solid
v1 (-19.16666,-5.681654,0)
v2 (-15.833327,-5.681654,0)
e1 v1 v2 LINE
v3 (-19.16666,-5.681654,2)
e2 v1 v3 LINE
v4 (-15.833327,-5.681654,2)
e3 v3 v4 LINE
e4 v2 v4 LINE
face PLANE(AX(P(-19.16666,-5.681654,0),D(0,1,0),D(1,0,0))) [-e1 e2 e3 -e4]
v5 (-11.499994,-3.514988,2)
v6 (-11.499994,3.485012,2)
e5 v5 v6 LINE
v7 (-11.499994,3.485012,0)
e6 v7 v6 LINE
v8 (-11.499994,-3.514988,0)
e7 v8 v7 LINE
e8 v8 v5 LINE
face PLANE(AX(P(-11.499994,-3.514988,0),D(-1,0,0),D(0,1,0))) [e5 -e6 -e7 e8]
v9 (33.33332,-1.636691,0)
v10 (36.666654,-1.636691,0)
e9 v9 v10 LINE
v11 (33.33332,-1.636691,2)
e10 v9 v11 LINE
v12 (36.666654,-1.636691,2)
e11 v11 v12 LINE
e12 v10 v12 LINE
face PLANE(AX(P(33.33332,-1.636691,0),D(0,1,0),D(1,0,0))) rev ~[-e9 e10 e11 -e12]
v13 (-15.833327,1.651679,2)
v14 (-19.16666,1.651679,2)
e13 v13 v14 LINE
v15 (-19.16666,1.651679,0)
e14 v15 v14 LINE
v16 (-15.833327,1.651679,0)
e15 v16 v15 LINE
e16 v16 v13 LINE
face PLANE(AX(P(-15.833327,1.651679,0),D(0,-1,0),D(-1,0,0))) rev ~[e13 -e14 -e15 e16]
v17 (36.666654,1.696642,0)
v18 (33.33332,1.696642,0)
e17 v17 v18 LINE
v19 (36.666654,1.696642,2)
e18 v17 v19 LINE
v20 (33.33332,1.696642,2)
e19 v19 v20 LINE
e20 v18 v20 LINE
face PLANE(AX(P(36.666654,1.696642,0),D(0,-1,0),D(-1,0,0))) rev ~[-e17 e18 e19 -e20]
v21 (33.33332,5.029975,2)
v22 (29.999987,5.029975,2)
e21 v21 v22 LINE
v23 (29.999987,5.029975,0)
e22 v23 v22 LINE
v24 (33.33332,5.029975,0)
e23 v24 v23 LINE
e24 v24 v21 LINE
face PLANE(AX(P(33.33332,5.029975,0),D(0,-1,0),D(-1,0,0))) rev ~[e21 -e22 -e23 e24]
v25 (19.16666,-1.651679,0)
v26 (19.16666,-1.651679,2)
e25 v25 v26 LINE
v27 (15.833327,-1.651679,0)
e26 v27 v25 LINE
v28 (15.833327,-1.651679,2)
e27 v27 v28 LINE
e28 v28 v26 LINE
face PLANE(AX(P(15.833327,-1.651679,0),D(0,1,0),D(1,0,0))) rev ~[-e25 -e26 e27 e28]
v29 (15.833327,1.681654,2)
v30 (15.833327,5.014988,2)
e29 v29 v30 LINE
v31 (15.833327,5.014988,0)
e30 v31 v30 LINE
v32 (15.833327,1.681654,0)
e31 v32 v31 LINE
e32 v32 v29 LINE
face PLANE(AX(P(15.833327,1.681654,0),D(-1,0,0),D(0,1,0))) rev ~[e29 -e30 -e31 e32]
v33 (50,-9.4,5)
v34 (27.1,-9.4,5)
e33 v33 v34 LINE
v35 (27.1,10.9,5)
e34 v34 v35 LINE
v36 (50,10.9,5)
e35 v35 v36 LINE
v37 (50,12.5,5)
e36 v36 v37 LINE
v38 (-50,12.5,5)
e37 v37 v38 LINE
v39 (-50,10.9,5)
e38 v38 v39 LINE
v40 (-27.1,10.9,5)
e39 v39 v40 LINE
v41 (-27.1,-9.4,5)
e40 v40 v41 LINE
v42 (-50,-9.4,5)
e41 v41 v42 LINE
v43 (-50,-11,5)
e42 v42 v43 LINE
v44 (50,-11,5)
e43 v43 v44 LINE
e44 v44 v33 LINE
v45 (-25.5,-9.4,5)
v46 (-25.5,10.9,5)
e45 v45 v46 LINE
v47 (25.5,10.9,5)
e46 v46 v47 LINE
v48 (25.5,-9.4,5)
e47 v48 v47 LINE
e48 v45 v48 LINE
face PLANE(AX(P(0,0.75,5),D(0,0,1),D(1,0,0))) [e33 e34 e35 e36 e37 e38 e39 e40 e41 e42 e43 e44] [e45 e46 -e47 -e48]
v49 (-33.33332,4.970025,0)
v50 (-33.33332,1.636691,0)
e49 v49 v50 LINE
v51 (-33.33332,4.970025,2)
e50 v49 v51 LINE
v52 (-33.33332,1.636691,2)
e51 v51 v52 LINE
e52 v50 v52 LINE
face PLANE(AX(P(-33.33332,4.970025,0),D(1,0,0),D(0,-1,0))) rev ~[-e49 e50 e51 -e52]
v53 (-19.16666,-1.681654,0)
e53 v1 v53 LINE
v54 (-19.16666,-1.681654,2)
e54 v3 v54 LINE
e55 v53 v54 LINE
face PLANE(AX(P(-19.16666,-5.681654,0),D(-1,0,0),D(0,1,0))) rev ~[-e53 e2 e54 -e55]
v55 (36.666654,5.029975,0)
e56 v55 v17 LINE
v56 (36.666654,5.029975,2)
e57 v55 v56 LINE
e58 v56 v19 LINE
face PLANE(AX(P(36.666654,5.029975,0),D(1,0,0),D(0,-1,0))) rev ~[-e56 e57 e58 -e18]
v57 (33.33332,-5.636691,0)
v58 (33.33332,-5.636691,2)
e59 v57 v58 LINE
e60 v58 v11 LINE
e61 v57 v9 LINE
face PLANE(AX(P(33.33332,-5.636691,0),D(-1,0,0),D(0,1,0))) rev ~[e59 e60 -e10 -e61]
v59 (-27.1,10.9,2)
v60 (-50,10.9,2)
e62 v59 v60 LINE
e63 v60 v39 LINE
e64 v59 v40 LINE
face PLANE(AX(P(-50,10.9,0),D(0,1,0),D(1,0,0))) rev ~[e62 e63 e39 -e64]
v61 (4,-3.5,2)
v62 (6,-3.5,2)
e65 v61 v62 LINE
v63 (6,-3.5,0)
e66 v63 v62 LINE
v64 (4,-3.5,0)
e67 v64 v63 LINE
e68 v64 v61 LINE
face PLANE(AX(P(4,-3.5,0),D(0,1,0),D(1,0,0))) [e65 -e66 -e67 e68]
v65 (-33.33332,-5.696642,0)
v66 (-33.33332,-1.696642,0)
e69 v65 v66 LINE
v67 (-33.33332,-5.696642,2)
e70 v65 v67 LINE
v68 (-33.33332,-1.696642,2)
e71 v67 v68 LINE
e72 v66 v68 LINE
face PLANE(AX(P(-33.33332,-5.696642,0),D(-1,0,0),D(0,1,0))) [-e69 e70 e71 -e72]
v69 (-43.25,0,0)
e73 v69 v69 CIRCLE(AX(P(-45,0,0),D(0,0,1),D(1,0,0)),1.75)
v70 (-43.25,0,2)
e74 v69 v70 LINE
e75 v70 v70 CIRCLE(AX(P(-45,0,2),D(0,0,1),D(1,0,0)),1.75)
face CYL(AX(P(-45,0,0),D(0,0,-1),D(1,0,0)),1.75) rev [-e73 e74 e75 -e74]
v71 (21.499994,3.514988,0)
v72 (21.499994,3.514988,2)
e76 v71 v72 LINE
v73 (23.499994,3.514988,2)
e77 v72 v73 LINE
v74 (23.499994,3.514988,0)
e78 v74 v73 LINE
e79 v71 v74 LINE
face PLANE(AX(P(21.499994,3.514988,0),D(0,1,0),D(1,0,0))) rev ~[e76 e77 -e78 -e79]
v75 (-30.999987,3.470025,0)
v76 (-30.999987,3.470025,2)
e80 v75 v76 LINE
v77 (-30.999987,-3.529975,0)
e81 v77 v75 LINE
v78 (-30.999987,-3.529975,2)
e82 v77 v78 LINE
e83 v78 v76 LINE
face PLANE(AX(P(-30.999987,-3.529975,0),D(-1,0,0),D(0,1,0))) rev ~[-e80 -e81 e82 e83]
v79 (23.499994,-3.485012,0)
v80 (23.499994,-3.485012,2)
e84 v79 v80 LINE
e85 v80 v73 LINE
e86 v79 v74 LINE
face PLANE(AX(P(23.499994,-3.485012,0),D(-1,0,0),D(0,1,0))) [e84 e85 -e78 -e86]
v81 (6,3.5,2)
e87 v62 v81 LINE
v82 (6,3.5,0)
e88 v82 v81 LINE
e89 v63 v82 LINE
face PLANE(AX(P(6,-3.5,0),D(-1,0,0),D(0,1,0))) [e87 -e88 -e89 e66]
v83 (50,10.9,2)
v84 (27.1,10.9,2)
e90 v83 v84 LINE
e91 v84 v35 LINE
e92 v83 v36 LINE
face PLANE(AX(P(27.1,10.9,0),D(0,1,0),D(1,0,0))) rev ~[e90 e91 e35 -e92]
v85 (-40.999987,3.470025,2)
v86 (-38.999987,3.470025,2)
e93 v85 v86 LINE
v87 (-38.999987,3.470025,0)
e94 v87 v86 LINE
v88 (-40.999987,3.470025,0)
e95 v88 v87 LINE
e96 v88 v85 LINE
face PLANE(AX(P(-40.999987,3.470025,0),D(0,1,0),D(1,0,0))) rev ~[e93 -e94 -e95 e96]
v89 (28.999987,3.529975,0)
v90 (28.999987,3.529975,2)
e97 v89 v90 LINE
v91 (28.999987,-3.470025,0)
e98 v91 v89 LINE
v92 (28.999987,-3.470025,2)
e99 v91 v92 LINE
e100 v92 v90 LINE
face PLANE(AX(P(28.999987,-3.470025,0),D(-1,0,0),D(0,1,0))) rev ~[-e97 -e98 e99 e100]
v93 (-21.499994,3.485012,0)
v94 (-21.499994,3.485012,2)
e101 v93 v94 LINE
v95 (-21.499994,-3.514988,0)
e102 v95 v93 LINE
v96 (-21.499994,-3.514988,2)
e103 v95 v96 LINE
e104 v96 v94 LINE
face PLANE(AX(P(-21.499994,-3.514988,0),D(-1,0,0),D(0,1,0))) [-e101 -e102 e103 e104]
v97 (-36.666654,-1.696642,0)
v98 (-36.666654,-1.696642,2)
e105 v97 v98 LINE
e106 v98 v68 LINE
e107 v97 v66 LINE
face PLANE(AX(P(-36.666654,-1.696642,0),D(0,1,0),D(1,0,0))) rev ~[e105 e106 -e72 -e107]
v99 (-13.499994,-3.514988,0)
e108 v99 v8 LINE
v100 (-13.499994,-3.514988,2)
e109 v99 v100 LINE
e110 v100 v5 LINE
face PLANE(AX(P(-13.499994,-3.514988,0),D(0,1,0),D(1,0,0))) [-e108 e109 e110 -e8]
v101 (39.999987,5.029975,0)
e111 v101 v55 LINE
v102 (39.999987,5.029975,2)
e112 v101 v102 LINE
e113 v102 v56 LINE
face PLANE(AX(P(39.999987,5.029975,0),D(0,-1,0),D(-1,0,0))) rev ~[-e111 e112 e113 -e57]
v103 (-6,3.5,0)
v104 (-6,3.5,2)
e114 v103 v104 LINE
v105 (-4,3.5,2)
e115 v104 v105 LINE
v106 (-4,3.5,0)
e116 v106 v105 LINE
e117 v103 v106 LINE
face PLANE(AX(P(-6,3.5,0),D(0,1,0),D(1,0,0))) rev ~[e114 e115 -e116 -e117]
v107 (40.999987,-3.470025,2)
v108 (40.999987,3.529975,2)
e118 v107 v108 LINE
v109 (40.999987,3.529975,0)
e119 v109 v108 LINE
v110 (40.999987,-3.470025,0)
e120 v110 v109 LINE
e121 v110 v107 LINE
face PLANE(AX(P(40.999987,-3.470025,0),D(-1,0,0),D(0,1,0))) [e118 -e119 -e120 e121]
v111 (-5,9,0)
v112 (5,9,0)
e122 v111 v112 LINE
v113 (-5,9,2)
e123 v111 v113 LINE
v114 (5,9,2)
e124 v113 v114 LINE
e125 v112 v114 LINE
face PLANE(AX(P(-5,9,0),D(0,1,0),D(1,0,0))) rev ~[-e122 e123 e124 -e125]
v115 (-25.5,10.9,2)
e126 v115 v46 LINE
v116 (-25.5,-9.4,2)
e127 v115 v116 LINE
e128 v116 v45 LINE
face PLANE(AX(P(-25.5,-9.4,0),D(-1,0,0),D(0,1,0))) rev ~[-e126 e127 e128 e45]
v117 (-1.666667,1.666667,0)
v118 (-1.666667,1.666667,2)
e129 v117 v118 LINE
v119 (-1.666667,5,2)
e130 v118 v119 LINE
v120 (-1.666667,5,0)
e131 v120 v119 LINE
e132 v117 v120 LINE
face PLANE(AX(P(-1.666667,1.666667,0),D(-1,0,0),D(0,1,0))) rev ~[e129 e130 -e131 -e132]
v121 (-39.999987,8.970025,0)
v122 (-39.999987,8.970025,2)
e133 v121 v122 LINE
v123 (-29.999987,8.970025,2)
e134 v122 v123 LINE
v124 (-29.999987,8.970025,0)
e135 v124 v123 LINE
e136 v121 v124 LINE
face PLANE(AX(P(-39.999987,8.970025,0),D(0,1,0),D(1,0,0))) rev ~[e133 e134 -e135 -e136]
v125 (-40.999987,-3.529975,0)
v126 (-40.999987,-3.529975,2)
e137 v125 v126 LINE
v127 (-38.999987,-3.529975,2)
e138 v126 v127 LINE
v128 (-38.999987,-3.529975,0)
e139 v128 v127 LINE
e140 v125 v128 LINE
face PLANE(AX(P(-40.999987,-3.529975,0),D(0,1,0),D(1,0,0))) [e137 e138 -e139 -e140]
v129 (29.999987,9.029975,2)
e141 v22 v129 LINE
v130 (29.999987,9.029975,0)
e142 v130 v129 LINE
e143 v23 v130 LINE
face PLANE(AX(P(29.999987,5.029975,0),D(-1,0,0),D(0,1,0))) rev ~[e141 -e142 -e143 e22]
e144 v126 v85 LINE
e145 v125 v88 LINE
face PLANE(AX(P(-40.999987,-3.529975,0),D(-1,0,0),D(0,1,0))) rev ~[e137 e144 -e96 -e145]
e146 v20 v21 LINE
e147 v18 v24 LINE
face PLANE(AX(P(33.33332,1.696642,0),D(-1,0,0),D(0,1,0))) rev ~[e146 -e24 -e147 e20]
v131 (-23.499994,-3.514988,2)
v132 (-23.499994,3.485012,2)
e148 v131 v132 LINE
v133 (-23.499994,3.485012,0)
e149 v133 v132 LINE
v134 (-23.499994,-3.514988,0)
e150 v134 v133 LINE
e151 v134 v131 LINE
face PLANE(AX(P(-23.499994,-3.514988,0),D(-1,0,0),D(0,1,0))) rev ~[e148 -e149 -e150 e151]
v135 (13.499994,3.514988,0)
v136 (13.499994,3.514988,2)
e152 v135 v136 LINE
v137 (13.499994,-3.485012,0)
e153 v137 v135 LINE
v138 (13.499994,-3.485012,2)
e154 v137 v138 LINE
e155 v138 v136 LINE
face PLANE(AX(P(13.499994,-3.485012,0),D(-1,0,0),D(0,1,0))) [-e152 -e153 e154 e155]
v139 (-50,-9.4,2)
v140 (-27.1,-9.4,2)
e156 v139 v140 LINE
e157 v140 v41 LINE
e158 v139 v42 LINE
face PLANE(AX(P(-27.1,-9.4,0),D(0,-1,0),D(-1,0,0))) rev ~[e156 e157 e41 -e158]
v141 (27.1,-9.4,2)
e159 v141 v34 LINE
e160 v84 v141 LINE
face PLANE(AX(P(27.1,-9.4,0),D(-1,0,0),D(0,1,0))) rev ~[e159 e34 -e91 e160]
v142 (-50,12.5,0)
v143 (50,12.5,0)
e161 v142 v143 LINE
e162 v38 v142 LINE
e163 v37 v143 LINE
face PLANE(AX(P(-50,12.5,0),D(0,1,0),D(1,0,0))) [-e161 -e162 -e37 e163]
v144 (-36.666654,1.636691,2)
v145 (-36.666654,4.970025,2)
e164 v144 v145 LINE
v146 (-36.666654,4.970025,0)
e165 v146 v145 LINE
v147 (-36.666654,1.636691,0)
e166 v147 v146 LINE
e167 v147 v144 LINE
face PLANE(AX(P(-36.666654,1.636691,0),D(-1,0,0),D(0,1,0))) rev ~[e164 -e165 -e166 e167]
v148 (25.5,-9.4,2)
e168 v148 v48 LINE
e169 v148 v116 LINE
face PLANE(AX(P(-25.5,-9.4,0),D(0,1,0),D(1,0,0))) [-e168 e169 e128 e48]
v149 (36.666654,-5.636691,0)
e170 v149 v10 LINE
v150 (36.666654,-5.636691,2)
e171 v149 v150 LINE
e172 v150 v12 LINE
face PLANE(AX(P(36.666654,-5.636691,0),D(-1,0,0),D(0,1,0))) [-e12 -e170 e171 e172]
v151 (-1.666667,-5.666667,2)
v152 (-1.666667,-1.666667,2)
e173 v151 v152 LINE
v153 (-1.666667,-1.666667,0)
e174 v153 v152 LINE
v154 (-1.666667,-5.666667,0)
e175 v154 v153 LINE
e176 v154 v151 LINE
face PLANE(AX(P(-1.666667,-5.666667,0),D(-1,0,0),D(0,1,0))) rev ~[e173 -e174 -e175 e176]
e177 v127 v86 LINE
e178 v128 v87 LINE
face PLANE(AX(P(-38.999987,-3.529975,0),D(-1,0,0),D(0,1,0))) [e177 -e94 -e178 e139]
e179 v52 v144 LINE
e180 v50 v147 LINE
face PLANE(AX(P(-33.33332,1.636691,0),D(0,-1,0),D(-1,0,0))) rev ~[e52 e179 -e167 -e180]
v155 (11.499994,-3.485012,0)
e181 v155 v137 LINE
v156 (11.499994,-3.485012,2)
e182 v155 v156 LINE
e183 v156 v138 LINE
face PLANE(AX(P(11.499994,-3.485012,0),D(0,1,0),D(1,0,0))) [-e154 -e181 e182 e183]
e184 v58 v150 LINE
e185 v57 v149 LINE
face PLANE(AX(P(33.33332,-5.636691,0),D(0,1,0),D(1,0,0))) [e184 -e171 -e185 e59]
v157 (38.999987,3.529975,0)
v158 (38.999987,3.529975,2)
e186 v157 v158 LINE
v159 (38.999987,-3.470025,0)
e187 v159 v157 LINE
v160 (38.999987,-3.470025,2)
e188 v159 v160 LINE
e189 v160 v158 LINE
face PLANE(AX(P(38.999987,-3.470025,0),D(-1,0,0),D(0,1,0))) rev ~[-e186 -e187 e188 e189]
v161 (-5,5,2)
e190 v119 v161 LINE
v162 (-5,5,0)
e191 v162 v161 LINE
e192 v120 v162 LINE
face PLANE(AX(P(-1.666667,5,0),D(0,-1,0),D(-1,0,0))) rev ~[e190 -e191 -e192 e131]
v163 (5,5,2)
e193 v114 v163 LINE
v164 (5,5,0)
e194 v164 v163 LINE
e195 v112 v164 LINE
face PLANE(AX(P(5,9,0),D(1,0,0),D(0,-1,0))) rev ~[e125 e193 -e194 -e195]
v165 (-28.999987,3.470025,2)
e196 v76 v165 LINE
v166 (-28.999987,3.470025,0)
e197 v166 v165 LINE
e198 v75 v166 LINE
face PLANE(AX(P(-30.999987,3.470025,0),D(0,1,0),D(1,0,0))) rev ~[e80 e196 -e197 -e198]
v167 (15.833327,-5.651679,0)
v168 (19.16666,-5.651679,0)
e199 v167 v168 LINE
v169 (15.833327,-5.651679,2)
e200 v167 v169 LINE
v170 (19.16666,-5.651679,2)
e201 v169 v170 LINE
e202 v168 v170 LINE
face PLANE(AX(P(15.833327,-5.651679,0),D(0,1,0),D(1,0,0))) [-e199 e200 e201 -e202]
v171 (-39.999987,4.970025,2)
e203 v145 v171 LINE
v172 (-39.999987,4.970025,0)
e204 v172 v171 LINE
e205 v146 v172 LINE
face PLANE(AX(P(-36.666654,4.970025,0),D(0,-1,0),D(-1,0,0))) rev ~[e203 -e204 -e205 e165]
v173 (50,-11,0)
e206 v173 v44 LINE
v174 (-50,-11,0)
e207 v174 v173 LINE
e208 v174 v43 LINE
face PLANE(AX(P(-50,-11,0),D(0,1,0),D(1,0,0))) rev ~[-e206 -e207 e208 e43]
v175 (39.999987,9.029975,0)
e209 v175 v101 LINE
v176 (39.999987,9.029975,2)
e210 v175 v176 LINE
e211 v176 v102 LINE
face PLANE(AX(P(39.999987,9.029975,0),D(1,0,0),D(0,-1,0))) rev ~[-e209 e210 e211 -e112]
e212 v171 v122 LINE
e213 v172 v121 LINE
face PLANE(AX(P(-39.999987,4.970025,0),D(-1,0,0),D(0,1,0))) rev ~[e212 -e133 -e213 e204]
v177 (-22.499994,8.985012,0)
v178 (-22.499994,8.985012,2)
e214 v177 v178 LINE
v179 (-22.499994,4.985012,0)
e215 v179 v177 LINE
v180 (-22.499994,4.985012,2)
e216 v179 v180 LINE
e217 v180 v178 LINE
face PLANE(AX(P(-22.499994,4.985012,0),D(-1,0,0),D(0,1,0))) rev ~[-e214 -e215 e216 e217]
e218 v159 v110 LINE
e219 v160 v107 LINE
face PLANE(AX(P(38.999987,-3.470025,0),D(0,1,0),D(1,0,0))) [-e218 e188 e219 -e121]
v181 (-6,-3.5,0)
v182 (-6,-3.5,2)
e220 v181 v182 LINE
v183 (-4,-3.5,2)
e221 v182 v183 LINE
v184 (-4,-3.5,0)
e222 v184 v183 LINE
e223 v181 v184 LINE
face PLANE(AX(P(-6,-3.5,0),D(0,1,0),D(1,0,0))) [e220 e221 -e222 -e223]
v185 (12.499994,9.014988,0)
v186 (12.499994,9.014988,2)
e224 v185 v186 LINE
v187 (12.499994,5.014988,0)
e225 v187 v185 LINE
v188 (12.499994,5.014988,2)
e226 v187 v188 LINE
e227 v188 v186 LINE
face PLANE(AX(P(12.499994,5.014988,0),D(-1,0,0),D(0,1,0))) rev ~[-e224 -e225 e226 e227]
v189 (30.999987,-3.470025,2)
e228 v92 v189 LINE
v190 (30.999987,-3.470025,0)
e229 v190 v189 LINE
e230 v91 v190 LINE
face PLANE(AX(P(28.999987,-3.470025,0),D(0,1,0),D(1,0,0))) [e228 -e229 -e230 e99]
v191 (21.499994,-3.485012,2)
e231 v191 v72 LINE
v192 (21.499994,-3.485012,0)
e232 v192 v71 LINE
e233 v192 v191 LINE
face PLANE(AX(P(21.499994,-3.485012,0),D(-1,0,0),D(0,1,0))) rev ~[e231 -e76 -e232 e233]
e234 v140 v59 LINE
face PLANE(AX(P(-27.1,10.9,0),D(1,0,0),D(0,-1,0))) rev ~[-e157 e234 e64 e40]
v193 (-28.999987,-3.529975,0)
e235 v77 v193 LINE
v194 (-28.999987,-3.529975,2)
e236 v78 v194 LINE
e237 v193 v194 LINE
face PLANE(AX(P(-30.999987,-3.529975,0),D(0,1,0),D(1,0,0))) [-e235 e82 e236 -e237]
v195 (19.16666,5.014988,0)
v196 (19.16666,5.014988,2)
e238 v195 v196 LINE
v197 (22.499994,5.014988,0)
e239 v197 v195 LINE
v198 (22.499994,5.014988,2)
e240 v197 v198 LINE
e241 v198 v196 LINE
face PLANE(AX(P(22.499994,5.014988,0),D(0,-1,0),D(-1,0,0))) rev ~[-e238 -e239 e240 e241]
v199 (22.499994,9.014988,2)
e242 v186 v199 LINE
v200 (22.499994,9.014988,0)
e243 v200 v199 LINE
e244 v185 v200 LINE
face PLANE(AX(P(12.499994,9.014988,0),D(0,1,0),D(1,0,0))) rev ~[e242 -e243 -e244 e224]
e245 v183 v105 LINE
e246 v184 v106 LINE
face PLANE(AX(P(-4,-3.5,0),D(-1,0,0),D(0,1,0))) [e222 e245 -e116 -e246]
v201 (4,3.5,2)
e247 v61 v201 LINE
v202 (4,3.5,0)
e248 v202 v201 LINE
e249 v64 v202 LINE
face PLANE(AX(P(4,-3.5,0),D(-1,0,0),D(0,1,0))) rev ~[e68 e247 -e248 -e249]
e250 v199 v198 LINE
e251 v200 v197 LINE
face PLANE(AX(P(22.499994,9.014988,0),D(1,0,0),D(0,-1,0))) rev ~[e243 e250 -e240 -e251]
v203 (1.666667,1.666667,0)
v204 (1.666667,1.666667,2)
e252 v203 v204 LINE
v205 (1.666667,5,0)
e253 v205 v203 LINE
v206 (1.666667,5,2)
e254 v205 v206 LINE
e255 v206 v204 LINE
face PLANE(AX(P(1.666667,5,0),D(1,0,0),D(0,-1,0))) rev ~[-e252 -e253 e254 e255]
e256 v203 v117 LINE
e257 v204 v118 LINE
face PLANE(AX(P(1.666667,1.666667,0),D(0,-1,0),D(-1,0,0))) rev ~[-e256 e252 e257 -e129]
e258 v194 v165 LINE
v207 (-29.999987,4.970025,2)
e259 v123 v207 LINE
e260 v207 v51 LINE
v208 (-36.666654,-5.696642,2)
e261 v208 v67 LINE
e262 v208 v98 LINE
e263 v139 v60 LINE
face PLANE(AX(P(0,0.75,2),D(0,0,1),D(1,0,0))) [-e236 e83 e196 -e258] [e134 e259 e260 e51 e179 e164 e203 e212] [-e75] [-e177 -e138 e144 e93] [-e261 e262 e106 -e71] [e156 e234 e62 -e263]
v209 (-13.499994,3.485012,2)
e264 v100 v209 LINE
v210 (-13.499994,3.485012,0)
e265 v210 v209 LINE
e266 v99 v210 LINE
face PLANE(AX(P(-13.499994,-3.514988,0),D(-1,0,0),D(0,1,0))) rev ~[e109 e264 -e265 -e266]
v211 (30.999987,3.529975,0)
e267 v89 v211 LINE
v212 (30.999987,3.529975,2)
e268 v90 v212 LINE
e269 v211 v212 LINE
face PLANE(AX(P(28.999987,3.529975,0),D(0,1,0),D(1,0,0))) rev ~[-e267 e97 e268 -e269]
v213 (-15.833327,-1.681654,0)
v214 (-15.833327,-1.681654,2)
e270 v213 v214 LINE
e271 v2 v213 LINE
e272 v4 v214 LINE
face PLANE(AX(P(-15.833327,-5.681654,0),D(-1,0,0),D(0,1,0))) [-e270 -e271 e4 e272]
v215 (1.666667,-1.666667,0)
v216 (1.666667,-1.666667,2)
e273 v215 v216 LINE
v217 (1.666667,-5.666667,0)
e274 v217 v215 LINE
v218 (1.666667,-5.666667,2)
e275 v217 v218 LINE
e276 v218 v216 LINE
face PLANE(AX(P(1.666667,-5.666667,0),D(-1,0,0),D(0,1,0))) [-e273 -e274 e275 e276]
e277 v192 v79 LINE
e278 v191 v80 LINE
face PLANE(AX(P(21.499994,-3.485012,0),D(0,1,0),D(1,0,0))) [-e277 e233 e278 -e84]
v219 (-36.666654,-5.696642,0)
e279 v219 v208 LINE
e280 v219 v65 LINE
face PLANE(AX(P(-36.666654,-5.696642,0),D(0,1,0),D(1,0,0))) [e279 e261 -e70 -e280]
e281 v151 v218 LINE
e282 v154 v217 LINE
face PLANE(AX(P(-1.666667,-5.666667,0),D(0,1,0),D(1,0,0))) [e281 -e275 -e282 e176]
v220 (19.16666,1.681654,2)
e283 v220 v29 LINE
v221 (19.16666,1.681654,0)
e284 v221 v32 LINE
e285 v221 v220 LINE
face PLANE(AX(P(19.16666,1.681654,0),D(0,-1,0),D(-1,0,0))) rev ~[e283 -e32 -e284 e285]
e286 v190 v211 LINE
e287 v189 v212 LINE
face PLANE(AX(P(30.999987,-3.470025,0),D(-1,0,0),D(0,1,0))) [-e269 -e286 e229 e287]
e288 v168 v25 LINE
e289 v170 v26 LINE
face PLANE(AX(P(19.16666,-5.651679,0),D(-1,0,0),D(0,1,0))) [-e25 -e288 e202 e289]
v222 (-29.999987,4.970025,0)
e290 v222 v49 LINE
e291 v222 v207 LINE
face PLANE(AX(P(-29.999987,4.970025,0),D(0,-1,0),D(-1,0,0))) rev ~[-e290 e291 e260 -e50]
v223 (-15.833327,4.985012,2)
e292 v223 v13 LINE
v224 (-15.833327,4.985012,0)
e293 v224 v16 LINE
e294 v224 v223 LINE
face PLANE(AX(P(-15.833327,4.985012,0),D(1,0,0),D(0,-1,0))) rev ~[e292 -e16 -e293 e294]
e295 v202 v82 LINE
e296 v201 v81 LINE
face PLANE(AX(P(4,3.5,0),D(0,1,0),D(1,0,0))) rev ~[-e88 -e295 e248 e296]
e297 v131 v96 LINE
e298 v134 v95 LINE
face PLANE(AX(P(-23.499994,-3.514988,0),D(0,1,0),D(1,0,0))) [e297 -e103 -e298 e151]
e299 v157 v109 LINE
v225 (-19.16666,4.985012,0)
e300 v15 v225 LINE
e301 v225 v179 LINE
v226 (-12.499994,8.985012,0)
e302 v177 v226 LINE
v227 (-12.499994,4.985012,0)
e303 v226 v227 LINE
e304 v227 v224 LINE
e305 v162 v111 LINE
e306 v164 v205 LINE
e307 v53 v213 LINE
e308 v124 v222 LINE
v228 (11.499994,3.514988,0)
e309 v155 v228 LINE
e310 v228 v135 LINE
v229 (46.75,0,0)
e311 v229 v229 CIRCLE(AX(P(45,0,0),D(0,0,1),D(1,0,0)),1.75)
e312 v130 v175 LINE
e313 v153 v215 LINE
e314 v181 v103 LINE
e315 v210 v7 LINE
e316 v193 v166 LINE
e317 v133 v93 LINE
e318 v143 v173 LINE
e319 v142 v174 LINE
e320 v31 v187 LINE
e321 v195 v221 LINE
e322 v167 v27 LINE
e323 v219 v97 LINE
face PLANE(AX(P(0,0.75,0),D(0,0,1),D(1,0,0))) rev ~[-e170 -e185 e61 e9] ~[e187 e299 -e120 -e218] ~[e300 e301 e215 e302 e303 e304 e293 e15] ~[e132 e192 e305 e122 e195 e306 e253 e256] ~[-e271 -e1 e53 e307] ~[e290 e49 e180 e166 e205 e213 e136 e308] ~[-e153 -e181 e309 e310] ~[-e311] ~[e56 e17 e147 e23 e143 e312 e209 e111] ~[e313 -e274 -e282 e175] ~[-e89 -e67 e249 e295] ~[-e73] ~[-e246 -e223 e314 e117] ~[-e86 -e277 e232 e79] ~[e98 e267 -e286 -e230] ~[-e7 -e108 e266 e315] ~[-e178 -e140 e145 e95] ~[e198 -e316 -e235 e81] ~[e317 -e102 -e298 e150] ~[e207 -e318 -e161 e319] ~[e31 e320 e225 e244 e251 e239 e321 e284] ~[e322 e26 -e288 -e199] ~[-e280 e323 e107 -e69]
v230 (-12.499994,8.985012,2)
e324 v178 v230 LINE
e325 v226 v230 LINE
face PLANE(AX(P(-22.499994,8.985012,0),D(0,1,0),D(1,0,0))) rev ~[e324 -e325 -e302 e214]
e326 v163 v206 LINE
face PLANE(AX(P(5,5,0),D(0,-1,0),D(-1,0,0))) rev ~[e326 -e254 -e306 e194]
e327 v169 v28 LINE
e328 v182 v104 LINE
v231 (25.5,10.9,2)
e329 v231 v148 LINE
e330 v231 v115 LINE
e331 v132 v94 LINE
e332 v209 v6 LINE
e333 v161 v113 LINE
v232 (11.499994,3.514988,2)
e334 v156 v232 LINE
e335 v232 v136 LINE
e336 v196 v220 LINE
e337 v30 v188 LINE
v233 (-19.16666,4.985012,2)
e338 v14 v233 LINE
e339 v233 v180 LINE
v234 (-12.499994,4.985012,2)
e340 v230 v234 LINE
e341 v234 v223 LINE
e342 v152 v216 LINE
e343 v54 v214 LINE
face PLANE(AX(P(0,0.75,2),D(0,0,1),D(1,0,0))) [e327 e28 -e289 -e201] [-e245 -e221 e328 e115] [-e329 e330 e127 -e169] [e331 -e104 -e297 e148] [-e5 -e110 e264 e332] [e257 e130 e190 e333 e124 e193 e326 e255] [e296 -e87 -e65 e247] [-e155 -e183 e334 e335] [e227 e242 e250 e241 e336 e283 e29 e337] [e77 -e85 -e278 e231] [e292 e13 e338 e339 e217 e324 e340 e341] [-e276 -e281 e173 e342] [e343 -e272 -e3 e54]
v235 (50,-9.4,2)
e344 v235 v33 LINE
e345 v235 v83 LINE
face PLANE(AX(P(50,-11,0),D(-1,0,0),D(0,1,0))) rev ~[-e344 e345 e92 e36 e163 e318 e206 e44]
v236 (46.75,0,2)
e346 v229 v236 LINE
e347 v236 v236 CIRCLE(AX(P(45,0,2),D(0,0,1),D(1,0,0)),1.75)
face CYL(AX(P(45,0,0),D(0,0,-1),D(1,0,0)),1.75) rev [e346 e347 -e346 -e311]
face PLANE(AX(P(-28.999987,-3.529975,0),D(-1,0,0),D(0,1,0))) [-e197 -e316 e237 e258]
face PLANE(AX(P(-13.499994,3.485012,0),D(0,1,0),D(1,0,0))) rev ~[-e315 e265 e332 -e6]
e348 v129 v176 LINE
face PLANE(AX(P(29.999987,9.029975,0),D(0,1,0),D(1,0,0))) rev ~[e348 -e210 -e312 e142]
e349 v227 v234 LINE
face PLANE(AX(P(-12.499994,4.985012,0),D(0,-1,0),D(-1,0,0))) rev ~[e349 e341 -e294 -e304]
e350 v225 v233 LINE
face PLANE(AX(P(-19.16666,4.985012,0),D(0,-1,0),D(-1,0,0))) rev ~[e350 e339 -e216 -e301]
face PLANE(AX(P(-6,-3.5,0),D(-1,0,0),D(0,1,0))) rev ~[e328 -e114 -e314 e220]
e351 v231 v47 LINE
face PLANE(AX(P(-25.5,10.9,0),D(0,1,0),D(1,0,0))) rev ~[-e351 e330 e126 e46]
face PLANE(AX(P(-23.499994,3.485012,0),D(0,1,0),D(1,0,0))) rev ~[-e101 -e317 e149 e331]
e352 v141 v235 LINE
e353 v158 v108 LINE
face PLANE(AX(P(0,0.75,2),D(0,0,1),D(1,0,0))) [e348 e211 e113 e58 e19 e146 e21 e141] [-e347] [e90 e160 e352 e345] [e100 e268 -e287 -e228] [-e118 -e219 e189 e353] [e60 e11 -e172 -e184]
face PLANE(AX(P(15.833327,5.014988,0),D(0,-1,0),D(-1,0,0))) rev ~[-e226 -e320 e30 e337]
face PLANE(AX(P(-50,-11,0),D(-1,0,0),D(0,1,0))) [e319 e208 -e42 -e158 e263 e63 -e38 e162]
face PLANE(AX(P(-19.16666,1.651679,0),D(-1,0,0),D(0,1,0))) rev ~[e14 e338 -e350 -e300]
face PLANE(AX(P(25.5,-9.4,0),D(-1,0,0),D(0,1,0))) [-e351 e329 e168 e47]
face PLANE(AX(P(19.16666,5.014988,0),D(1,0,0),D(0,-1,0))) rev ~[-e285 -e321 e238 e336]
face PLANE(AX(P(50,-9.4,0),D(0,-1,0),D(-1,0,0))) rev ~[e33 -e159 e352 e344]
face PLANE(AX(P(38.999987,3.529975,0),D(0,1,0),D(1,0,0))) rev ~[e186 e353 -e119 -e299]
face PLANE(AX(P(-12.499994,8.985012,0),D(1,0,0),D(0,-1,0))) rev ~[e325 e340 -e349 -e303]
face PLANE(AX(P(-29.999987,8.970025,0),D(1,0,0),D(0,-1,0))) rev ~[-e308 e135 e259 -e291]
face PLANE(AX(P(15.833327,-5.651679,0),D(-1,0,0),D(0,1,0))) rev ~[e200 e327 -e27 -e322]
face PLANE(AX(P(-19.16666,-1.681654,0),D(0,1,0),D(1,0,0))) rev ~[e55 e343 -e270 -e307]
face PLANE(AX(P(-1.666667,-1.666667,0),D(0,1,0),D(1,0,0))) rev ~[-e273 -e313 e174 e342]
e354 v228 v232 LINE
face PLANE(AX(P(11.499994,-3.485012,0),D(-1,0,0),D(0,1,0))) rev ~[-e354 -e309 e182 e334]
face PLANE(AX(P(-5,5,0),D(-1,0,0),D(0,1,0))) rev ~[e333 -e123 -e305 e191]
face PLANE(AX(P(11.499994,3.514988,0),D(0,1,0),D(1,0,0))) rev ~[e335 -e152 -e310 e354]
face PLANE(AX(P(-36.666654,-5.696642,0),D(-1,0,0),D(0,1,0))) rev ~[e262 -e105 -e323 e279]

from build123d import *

# Parameters (mm, degrees)
SKETCH_W     = 100
SKETCH_H     = 23.5
SKETCH_R     = 1.75
SKETCH_W_2   = 2
SKETCH_H_2   = 7
SKETCH_W_3   = 3.333334
SKETCH_H_3   = 4
SKETCH_W_4   = 3.333333
PAD_DEPTH    = 2
SKETCH001_W  = 51
SKETCH001_H  = 20.3
PAD001_DEPTH = 5


with BuildPart() as part:
    # Sketch → Pad (new body)
    with BuildSketch(Plane.XY):
        with Locations((0, 0.75)):
            Rectangle(SKETCH_W, SKETCH_H)
        with Locations((-45, 0)):
            Circle(SKETCH_R, mode=Mode.SUBTRACT)
        with Locations((45, 0)):
            Circle(SKETCH_R, mode=Mode.SUBTRACT)
        Polygon((-39.999987, 8.970025), (-29.999987, 8.970025), (-29.999987, 4.970025), (-33.33332, 4.970025), (-33.33332, 1.636691), (-36.666654, 1.636691), (-36.666654, 4.970025), (-39.999987, 4.970025), align=None, mode=Mode.SUBTRACT)
        with Locations((-39.999987, -0.029975)):
            Rectangle(SKETCH_W_2, SKETCH_H_2, mode=Mode.SUBTRACT)
        with Locations((-29.999987, -0.029975)):
            Rectangle(SKETCH_W_2, SKETCH_H_2, mode=Mode.SUBTRACT)
        Polygon((-22.499994, 8.985012), (-12.499994, 8.985012), (-12.499994, 4.985012), (-15.833327, 4.985012), (-15.833327, 1.651679), (-19.16666, 1.651679), (-19.16666, 4.985012), (-22.499994, 4.985012), align=None, mode=Mode.SUBTRACT)
        with Locations((-22.499994, -0.014988)):
            Rectangle(SKETCH_W_2, SKETCH_H_2, mode=Mode.SUBTRACT)
        with Locations((-12.499994, -0.014988)):
            Rectangle(SKETCH_W_2, SKETCH_H_2, mode=Mode.SUBTRACT)
        Polygon((-5, 9), (5, 9), (5, 5), (1.666667, 5), (1.666667, 1.666667), (-1.666667, 1.666667), (-1.666667, 5), (-5, 5), align=None, mode=Mode.SUBTRACT)
        with Locations((-5, 0)):
            Rectangle(SKETCH_W_2, SKETCH_H_2, mode=Mode.SUBTRACT)
        with Locations((5, 0)):
            Rectangle(SKETCH_W_2, SKETCH_H_2, mode=Mode.SUBTRACT)
        Polygon((12.499994, 9.014988), (22.499994, 9.014988), (22.499994, 5.014988), (19.16666, 5.014988), (19.16666, 1.681654), (15.833327, 1.681654), (15.833327, 5.014988), (12.499994, 5.014988), align=None, mode=Mode.SUBTRACT)
        with Locations((12.499994, 0.014988)):
            Rectangle(SKETCH_W_2, SKETCH_H_2, mode=Mode.SUBTRACT)
        with Locations((22.499994, 0.014988)):
            Rectangle(SKETCH_W_2, SKETCH_H_2, mode=Mode.SUBTRACT)
        Polygon((29.999987, 9.029975), (39.999987, 9.029975), (39.999987, 5.029975), (36.666654, 5.029975), (36.666654, 1.696642), (33.33332, 1.696642), (33.33332, 5.029975), (29.999987, 5.029975), align=None, mode=Mode.SUBTRACT)
        with Locations((29.999987, 0.029975)):
            Rectangle(SKETCH_W_2, SKETCH_H_2, mode=Mode.SUBTRACT)
        with Locations((39.999987, 0.029975)):
            Rectangle(SKETCH_W_2, SKETCH_H_2, mode=Mode.SUBTRACT)
        with Locations((34.999987, -3.636691)):
            Rectangle(SKETCH_W_3, SKETCH_H_3, mode=Mode.SUBTRACT)
        with Locations((-34.999987, -3.696642)):
            Rectangle(SKETCH_W_3, SKETCH_H_3, mode=Mode.SUBTRACT)
        with Locations((-17.499993, -3.681654)):
            Rectangle(SKETCH_W_4, SKETCH_H_3, mode=Mode.SUBTRACT)
        with Locations((0, -3.666667)):
            Rectangle(SKETCH_W_3, SKETCH_H_3, mode=Mode.SUBTRACT)
        with Locations((17.499993, -3.651679)):
            Rectangle(SKETCH_W_4, SKETCH_H_3, mode=Mode.SUBTRACT)
    extrude(amount=PAD_DEPTH)

    # Sketch001 → Pad001 (join)
    with BuildSketch(Plane.XY):
        Polygon((-50, 12.5), (-50, 10.9), (-27.1, 10.9), (-27.1, -9.4), (-50, -9.4), (-50, -11), (50, -11), (50, -9.4), (27.1, -9.4), (27.1, 10.9), (50, 10.9), (50, 12.5), align=None)
        with Locations((0, 0.75)):
            Rectangle(SKETCH001_W, SKETCH001_H, mode=Mode.SUBTRACT)
    extrude(amount=PAD001_DEPTH)


solid = part.part
